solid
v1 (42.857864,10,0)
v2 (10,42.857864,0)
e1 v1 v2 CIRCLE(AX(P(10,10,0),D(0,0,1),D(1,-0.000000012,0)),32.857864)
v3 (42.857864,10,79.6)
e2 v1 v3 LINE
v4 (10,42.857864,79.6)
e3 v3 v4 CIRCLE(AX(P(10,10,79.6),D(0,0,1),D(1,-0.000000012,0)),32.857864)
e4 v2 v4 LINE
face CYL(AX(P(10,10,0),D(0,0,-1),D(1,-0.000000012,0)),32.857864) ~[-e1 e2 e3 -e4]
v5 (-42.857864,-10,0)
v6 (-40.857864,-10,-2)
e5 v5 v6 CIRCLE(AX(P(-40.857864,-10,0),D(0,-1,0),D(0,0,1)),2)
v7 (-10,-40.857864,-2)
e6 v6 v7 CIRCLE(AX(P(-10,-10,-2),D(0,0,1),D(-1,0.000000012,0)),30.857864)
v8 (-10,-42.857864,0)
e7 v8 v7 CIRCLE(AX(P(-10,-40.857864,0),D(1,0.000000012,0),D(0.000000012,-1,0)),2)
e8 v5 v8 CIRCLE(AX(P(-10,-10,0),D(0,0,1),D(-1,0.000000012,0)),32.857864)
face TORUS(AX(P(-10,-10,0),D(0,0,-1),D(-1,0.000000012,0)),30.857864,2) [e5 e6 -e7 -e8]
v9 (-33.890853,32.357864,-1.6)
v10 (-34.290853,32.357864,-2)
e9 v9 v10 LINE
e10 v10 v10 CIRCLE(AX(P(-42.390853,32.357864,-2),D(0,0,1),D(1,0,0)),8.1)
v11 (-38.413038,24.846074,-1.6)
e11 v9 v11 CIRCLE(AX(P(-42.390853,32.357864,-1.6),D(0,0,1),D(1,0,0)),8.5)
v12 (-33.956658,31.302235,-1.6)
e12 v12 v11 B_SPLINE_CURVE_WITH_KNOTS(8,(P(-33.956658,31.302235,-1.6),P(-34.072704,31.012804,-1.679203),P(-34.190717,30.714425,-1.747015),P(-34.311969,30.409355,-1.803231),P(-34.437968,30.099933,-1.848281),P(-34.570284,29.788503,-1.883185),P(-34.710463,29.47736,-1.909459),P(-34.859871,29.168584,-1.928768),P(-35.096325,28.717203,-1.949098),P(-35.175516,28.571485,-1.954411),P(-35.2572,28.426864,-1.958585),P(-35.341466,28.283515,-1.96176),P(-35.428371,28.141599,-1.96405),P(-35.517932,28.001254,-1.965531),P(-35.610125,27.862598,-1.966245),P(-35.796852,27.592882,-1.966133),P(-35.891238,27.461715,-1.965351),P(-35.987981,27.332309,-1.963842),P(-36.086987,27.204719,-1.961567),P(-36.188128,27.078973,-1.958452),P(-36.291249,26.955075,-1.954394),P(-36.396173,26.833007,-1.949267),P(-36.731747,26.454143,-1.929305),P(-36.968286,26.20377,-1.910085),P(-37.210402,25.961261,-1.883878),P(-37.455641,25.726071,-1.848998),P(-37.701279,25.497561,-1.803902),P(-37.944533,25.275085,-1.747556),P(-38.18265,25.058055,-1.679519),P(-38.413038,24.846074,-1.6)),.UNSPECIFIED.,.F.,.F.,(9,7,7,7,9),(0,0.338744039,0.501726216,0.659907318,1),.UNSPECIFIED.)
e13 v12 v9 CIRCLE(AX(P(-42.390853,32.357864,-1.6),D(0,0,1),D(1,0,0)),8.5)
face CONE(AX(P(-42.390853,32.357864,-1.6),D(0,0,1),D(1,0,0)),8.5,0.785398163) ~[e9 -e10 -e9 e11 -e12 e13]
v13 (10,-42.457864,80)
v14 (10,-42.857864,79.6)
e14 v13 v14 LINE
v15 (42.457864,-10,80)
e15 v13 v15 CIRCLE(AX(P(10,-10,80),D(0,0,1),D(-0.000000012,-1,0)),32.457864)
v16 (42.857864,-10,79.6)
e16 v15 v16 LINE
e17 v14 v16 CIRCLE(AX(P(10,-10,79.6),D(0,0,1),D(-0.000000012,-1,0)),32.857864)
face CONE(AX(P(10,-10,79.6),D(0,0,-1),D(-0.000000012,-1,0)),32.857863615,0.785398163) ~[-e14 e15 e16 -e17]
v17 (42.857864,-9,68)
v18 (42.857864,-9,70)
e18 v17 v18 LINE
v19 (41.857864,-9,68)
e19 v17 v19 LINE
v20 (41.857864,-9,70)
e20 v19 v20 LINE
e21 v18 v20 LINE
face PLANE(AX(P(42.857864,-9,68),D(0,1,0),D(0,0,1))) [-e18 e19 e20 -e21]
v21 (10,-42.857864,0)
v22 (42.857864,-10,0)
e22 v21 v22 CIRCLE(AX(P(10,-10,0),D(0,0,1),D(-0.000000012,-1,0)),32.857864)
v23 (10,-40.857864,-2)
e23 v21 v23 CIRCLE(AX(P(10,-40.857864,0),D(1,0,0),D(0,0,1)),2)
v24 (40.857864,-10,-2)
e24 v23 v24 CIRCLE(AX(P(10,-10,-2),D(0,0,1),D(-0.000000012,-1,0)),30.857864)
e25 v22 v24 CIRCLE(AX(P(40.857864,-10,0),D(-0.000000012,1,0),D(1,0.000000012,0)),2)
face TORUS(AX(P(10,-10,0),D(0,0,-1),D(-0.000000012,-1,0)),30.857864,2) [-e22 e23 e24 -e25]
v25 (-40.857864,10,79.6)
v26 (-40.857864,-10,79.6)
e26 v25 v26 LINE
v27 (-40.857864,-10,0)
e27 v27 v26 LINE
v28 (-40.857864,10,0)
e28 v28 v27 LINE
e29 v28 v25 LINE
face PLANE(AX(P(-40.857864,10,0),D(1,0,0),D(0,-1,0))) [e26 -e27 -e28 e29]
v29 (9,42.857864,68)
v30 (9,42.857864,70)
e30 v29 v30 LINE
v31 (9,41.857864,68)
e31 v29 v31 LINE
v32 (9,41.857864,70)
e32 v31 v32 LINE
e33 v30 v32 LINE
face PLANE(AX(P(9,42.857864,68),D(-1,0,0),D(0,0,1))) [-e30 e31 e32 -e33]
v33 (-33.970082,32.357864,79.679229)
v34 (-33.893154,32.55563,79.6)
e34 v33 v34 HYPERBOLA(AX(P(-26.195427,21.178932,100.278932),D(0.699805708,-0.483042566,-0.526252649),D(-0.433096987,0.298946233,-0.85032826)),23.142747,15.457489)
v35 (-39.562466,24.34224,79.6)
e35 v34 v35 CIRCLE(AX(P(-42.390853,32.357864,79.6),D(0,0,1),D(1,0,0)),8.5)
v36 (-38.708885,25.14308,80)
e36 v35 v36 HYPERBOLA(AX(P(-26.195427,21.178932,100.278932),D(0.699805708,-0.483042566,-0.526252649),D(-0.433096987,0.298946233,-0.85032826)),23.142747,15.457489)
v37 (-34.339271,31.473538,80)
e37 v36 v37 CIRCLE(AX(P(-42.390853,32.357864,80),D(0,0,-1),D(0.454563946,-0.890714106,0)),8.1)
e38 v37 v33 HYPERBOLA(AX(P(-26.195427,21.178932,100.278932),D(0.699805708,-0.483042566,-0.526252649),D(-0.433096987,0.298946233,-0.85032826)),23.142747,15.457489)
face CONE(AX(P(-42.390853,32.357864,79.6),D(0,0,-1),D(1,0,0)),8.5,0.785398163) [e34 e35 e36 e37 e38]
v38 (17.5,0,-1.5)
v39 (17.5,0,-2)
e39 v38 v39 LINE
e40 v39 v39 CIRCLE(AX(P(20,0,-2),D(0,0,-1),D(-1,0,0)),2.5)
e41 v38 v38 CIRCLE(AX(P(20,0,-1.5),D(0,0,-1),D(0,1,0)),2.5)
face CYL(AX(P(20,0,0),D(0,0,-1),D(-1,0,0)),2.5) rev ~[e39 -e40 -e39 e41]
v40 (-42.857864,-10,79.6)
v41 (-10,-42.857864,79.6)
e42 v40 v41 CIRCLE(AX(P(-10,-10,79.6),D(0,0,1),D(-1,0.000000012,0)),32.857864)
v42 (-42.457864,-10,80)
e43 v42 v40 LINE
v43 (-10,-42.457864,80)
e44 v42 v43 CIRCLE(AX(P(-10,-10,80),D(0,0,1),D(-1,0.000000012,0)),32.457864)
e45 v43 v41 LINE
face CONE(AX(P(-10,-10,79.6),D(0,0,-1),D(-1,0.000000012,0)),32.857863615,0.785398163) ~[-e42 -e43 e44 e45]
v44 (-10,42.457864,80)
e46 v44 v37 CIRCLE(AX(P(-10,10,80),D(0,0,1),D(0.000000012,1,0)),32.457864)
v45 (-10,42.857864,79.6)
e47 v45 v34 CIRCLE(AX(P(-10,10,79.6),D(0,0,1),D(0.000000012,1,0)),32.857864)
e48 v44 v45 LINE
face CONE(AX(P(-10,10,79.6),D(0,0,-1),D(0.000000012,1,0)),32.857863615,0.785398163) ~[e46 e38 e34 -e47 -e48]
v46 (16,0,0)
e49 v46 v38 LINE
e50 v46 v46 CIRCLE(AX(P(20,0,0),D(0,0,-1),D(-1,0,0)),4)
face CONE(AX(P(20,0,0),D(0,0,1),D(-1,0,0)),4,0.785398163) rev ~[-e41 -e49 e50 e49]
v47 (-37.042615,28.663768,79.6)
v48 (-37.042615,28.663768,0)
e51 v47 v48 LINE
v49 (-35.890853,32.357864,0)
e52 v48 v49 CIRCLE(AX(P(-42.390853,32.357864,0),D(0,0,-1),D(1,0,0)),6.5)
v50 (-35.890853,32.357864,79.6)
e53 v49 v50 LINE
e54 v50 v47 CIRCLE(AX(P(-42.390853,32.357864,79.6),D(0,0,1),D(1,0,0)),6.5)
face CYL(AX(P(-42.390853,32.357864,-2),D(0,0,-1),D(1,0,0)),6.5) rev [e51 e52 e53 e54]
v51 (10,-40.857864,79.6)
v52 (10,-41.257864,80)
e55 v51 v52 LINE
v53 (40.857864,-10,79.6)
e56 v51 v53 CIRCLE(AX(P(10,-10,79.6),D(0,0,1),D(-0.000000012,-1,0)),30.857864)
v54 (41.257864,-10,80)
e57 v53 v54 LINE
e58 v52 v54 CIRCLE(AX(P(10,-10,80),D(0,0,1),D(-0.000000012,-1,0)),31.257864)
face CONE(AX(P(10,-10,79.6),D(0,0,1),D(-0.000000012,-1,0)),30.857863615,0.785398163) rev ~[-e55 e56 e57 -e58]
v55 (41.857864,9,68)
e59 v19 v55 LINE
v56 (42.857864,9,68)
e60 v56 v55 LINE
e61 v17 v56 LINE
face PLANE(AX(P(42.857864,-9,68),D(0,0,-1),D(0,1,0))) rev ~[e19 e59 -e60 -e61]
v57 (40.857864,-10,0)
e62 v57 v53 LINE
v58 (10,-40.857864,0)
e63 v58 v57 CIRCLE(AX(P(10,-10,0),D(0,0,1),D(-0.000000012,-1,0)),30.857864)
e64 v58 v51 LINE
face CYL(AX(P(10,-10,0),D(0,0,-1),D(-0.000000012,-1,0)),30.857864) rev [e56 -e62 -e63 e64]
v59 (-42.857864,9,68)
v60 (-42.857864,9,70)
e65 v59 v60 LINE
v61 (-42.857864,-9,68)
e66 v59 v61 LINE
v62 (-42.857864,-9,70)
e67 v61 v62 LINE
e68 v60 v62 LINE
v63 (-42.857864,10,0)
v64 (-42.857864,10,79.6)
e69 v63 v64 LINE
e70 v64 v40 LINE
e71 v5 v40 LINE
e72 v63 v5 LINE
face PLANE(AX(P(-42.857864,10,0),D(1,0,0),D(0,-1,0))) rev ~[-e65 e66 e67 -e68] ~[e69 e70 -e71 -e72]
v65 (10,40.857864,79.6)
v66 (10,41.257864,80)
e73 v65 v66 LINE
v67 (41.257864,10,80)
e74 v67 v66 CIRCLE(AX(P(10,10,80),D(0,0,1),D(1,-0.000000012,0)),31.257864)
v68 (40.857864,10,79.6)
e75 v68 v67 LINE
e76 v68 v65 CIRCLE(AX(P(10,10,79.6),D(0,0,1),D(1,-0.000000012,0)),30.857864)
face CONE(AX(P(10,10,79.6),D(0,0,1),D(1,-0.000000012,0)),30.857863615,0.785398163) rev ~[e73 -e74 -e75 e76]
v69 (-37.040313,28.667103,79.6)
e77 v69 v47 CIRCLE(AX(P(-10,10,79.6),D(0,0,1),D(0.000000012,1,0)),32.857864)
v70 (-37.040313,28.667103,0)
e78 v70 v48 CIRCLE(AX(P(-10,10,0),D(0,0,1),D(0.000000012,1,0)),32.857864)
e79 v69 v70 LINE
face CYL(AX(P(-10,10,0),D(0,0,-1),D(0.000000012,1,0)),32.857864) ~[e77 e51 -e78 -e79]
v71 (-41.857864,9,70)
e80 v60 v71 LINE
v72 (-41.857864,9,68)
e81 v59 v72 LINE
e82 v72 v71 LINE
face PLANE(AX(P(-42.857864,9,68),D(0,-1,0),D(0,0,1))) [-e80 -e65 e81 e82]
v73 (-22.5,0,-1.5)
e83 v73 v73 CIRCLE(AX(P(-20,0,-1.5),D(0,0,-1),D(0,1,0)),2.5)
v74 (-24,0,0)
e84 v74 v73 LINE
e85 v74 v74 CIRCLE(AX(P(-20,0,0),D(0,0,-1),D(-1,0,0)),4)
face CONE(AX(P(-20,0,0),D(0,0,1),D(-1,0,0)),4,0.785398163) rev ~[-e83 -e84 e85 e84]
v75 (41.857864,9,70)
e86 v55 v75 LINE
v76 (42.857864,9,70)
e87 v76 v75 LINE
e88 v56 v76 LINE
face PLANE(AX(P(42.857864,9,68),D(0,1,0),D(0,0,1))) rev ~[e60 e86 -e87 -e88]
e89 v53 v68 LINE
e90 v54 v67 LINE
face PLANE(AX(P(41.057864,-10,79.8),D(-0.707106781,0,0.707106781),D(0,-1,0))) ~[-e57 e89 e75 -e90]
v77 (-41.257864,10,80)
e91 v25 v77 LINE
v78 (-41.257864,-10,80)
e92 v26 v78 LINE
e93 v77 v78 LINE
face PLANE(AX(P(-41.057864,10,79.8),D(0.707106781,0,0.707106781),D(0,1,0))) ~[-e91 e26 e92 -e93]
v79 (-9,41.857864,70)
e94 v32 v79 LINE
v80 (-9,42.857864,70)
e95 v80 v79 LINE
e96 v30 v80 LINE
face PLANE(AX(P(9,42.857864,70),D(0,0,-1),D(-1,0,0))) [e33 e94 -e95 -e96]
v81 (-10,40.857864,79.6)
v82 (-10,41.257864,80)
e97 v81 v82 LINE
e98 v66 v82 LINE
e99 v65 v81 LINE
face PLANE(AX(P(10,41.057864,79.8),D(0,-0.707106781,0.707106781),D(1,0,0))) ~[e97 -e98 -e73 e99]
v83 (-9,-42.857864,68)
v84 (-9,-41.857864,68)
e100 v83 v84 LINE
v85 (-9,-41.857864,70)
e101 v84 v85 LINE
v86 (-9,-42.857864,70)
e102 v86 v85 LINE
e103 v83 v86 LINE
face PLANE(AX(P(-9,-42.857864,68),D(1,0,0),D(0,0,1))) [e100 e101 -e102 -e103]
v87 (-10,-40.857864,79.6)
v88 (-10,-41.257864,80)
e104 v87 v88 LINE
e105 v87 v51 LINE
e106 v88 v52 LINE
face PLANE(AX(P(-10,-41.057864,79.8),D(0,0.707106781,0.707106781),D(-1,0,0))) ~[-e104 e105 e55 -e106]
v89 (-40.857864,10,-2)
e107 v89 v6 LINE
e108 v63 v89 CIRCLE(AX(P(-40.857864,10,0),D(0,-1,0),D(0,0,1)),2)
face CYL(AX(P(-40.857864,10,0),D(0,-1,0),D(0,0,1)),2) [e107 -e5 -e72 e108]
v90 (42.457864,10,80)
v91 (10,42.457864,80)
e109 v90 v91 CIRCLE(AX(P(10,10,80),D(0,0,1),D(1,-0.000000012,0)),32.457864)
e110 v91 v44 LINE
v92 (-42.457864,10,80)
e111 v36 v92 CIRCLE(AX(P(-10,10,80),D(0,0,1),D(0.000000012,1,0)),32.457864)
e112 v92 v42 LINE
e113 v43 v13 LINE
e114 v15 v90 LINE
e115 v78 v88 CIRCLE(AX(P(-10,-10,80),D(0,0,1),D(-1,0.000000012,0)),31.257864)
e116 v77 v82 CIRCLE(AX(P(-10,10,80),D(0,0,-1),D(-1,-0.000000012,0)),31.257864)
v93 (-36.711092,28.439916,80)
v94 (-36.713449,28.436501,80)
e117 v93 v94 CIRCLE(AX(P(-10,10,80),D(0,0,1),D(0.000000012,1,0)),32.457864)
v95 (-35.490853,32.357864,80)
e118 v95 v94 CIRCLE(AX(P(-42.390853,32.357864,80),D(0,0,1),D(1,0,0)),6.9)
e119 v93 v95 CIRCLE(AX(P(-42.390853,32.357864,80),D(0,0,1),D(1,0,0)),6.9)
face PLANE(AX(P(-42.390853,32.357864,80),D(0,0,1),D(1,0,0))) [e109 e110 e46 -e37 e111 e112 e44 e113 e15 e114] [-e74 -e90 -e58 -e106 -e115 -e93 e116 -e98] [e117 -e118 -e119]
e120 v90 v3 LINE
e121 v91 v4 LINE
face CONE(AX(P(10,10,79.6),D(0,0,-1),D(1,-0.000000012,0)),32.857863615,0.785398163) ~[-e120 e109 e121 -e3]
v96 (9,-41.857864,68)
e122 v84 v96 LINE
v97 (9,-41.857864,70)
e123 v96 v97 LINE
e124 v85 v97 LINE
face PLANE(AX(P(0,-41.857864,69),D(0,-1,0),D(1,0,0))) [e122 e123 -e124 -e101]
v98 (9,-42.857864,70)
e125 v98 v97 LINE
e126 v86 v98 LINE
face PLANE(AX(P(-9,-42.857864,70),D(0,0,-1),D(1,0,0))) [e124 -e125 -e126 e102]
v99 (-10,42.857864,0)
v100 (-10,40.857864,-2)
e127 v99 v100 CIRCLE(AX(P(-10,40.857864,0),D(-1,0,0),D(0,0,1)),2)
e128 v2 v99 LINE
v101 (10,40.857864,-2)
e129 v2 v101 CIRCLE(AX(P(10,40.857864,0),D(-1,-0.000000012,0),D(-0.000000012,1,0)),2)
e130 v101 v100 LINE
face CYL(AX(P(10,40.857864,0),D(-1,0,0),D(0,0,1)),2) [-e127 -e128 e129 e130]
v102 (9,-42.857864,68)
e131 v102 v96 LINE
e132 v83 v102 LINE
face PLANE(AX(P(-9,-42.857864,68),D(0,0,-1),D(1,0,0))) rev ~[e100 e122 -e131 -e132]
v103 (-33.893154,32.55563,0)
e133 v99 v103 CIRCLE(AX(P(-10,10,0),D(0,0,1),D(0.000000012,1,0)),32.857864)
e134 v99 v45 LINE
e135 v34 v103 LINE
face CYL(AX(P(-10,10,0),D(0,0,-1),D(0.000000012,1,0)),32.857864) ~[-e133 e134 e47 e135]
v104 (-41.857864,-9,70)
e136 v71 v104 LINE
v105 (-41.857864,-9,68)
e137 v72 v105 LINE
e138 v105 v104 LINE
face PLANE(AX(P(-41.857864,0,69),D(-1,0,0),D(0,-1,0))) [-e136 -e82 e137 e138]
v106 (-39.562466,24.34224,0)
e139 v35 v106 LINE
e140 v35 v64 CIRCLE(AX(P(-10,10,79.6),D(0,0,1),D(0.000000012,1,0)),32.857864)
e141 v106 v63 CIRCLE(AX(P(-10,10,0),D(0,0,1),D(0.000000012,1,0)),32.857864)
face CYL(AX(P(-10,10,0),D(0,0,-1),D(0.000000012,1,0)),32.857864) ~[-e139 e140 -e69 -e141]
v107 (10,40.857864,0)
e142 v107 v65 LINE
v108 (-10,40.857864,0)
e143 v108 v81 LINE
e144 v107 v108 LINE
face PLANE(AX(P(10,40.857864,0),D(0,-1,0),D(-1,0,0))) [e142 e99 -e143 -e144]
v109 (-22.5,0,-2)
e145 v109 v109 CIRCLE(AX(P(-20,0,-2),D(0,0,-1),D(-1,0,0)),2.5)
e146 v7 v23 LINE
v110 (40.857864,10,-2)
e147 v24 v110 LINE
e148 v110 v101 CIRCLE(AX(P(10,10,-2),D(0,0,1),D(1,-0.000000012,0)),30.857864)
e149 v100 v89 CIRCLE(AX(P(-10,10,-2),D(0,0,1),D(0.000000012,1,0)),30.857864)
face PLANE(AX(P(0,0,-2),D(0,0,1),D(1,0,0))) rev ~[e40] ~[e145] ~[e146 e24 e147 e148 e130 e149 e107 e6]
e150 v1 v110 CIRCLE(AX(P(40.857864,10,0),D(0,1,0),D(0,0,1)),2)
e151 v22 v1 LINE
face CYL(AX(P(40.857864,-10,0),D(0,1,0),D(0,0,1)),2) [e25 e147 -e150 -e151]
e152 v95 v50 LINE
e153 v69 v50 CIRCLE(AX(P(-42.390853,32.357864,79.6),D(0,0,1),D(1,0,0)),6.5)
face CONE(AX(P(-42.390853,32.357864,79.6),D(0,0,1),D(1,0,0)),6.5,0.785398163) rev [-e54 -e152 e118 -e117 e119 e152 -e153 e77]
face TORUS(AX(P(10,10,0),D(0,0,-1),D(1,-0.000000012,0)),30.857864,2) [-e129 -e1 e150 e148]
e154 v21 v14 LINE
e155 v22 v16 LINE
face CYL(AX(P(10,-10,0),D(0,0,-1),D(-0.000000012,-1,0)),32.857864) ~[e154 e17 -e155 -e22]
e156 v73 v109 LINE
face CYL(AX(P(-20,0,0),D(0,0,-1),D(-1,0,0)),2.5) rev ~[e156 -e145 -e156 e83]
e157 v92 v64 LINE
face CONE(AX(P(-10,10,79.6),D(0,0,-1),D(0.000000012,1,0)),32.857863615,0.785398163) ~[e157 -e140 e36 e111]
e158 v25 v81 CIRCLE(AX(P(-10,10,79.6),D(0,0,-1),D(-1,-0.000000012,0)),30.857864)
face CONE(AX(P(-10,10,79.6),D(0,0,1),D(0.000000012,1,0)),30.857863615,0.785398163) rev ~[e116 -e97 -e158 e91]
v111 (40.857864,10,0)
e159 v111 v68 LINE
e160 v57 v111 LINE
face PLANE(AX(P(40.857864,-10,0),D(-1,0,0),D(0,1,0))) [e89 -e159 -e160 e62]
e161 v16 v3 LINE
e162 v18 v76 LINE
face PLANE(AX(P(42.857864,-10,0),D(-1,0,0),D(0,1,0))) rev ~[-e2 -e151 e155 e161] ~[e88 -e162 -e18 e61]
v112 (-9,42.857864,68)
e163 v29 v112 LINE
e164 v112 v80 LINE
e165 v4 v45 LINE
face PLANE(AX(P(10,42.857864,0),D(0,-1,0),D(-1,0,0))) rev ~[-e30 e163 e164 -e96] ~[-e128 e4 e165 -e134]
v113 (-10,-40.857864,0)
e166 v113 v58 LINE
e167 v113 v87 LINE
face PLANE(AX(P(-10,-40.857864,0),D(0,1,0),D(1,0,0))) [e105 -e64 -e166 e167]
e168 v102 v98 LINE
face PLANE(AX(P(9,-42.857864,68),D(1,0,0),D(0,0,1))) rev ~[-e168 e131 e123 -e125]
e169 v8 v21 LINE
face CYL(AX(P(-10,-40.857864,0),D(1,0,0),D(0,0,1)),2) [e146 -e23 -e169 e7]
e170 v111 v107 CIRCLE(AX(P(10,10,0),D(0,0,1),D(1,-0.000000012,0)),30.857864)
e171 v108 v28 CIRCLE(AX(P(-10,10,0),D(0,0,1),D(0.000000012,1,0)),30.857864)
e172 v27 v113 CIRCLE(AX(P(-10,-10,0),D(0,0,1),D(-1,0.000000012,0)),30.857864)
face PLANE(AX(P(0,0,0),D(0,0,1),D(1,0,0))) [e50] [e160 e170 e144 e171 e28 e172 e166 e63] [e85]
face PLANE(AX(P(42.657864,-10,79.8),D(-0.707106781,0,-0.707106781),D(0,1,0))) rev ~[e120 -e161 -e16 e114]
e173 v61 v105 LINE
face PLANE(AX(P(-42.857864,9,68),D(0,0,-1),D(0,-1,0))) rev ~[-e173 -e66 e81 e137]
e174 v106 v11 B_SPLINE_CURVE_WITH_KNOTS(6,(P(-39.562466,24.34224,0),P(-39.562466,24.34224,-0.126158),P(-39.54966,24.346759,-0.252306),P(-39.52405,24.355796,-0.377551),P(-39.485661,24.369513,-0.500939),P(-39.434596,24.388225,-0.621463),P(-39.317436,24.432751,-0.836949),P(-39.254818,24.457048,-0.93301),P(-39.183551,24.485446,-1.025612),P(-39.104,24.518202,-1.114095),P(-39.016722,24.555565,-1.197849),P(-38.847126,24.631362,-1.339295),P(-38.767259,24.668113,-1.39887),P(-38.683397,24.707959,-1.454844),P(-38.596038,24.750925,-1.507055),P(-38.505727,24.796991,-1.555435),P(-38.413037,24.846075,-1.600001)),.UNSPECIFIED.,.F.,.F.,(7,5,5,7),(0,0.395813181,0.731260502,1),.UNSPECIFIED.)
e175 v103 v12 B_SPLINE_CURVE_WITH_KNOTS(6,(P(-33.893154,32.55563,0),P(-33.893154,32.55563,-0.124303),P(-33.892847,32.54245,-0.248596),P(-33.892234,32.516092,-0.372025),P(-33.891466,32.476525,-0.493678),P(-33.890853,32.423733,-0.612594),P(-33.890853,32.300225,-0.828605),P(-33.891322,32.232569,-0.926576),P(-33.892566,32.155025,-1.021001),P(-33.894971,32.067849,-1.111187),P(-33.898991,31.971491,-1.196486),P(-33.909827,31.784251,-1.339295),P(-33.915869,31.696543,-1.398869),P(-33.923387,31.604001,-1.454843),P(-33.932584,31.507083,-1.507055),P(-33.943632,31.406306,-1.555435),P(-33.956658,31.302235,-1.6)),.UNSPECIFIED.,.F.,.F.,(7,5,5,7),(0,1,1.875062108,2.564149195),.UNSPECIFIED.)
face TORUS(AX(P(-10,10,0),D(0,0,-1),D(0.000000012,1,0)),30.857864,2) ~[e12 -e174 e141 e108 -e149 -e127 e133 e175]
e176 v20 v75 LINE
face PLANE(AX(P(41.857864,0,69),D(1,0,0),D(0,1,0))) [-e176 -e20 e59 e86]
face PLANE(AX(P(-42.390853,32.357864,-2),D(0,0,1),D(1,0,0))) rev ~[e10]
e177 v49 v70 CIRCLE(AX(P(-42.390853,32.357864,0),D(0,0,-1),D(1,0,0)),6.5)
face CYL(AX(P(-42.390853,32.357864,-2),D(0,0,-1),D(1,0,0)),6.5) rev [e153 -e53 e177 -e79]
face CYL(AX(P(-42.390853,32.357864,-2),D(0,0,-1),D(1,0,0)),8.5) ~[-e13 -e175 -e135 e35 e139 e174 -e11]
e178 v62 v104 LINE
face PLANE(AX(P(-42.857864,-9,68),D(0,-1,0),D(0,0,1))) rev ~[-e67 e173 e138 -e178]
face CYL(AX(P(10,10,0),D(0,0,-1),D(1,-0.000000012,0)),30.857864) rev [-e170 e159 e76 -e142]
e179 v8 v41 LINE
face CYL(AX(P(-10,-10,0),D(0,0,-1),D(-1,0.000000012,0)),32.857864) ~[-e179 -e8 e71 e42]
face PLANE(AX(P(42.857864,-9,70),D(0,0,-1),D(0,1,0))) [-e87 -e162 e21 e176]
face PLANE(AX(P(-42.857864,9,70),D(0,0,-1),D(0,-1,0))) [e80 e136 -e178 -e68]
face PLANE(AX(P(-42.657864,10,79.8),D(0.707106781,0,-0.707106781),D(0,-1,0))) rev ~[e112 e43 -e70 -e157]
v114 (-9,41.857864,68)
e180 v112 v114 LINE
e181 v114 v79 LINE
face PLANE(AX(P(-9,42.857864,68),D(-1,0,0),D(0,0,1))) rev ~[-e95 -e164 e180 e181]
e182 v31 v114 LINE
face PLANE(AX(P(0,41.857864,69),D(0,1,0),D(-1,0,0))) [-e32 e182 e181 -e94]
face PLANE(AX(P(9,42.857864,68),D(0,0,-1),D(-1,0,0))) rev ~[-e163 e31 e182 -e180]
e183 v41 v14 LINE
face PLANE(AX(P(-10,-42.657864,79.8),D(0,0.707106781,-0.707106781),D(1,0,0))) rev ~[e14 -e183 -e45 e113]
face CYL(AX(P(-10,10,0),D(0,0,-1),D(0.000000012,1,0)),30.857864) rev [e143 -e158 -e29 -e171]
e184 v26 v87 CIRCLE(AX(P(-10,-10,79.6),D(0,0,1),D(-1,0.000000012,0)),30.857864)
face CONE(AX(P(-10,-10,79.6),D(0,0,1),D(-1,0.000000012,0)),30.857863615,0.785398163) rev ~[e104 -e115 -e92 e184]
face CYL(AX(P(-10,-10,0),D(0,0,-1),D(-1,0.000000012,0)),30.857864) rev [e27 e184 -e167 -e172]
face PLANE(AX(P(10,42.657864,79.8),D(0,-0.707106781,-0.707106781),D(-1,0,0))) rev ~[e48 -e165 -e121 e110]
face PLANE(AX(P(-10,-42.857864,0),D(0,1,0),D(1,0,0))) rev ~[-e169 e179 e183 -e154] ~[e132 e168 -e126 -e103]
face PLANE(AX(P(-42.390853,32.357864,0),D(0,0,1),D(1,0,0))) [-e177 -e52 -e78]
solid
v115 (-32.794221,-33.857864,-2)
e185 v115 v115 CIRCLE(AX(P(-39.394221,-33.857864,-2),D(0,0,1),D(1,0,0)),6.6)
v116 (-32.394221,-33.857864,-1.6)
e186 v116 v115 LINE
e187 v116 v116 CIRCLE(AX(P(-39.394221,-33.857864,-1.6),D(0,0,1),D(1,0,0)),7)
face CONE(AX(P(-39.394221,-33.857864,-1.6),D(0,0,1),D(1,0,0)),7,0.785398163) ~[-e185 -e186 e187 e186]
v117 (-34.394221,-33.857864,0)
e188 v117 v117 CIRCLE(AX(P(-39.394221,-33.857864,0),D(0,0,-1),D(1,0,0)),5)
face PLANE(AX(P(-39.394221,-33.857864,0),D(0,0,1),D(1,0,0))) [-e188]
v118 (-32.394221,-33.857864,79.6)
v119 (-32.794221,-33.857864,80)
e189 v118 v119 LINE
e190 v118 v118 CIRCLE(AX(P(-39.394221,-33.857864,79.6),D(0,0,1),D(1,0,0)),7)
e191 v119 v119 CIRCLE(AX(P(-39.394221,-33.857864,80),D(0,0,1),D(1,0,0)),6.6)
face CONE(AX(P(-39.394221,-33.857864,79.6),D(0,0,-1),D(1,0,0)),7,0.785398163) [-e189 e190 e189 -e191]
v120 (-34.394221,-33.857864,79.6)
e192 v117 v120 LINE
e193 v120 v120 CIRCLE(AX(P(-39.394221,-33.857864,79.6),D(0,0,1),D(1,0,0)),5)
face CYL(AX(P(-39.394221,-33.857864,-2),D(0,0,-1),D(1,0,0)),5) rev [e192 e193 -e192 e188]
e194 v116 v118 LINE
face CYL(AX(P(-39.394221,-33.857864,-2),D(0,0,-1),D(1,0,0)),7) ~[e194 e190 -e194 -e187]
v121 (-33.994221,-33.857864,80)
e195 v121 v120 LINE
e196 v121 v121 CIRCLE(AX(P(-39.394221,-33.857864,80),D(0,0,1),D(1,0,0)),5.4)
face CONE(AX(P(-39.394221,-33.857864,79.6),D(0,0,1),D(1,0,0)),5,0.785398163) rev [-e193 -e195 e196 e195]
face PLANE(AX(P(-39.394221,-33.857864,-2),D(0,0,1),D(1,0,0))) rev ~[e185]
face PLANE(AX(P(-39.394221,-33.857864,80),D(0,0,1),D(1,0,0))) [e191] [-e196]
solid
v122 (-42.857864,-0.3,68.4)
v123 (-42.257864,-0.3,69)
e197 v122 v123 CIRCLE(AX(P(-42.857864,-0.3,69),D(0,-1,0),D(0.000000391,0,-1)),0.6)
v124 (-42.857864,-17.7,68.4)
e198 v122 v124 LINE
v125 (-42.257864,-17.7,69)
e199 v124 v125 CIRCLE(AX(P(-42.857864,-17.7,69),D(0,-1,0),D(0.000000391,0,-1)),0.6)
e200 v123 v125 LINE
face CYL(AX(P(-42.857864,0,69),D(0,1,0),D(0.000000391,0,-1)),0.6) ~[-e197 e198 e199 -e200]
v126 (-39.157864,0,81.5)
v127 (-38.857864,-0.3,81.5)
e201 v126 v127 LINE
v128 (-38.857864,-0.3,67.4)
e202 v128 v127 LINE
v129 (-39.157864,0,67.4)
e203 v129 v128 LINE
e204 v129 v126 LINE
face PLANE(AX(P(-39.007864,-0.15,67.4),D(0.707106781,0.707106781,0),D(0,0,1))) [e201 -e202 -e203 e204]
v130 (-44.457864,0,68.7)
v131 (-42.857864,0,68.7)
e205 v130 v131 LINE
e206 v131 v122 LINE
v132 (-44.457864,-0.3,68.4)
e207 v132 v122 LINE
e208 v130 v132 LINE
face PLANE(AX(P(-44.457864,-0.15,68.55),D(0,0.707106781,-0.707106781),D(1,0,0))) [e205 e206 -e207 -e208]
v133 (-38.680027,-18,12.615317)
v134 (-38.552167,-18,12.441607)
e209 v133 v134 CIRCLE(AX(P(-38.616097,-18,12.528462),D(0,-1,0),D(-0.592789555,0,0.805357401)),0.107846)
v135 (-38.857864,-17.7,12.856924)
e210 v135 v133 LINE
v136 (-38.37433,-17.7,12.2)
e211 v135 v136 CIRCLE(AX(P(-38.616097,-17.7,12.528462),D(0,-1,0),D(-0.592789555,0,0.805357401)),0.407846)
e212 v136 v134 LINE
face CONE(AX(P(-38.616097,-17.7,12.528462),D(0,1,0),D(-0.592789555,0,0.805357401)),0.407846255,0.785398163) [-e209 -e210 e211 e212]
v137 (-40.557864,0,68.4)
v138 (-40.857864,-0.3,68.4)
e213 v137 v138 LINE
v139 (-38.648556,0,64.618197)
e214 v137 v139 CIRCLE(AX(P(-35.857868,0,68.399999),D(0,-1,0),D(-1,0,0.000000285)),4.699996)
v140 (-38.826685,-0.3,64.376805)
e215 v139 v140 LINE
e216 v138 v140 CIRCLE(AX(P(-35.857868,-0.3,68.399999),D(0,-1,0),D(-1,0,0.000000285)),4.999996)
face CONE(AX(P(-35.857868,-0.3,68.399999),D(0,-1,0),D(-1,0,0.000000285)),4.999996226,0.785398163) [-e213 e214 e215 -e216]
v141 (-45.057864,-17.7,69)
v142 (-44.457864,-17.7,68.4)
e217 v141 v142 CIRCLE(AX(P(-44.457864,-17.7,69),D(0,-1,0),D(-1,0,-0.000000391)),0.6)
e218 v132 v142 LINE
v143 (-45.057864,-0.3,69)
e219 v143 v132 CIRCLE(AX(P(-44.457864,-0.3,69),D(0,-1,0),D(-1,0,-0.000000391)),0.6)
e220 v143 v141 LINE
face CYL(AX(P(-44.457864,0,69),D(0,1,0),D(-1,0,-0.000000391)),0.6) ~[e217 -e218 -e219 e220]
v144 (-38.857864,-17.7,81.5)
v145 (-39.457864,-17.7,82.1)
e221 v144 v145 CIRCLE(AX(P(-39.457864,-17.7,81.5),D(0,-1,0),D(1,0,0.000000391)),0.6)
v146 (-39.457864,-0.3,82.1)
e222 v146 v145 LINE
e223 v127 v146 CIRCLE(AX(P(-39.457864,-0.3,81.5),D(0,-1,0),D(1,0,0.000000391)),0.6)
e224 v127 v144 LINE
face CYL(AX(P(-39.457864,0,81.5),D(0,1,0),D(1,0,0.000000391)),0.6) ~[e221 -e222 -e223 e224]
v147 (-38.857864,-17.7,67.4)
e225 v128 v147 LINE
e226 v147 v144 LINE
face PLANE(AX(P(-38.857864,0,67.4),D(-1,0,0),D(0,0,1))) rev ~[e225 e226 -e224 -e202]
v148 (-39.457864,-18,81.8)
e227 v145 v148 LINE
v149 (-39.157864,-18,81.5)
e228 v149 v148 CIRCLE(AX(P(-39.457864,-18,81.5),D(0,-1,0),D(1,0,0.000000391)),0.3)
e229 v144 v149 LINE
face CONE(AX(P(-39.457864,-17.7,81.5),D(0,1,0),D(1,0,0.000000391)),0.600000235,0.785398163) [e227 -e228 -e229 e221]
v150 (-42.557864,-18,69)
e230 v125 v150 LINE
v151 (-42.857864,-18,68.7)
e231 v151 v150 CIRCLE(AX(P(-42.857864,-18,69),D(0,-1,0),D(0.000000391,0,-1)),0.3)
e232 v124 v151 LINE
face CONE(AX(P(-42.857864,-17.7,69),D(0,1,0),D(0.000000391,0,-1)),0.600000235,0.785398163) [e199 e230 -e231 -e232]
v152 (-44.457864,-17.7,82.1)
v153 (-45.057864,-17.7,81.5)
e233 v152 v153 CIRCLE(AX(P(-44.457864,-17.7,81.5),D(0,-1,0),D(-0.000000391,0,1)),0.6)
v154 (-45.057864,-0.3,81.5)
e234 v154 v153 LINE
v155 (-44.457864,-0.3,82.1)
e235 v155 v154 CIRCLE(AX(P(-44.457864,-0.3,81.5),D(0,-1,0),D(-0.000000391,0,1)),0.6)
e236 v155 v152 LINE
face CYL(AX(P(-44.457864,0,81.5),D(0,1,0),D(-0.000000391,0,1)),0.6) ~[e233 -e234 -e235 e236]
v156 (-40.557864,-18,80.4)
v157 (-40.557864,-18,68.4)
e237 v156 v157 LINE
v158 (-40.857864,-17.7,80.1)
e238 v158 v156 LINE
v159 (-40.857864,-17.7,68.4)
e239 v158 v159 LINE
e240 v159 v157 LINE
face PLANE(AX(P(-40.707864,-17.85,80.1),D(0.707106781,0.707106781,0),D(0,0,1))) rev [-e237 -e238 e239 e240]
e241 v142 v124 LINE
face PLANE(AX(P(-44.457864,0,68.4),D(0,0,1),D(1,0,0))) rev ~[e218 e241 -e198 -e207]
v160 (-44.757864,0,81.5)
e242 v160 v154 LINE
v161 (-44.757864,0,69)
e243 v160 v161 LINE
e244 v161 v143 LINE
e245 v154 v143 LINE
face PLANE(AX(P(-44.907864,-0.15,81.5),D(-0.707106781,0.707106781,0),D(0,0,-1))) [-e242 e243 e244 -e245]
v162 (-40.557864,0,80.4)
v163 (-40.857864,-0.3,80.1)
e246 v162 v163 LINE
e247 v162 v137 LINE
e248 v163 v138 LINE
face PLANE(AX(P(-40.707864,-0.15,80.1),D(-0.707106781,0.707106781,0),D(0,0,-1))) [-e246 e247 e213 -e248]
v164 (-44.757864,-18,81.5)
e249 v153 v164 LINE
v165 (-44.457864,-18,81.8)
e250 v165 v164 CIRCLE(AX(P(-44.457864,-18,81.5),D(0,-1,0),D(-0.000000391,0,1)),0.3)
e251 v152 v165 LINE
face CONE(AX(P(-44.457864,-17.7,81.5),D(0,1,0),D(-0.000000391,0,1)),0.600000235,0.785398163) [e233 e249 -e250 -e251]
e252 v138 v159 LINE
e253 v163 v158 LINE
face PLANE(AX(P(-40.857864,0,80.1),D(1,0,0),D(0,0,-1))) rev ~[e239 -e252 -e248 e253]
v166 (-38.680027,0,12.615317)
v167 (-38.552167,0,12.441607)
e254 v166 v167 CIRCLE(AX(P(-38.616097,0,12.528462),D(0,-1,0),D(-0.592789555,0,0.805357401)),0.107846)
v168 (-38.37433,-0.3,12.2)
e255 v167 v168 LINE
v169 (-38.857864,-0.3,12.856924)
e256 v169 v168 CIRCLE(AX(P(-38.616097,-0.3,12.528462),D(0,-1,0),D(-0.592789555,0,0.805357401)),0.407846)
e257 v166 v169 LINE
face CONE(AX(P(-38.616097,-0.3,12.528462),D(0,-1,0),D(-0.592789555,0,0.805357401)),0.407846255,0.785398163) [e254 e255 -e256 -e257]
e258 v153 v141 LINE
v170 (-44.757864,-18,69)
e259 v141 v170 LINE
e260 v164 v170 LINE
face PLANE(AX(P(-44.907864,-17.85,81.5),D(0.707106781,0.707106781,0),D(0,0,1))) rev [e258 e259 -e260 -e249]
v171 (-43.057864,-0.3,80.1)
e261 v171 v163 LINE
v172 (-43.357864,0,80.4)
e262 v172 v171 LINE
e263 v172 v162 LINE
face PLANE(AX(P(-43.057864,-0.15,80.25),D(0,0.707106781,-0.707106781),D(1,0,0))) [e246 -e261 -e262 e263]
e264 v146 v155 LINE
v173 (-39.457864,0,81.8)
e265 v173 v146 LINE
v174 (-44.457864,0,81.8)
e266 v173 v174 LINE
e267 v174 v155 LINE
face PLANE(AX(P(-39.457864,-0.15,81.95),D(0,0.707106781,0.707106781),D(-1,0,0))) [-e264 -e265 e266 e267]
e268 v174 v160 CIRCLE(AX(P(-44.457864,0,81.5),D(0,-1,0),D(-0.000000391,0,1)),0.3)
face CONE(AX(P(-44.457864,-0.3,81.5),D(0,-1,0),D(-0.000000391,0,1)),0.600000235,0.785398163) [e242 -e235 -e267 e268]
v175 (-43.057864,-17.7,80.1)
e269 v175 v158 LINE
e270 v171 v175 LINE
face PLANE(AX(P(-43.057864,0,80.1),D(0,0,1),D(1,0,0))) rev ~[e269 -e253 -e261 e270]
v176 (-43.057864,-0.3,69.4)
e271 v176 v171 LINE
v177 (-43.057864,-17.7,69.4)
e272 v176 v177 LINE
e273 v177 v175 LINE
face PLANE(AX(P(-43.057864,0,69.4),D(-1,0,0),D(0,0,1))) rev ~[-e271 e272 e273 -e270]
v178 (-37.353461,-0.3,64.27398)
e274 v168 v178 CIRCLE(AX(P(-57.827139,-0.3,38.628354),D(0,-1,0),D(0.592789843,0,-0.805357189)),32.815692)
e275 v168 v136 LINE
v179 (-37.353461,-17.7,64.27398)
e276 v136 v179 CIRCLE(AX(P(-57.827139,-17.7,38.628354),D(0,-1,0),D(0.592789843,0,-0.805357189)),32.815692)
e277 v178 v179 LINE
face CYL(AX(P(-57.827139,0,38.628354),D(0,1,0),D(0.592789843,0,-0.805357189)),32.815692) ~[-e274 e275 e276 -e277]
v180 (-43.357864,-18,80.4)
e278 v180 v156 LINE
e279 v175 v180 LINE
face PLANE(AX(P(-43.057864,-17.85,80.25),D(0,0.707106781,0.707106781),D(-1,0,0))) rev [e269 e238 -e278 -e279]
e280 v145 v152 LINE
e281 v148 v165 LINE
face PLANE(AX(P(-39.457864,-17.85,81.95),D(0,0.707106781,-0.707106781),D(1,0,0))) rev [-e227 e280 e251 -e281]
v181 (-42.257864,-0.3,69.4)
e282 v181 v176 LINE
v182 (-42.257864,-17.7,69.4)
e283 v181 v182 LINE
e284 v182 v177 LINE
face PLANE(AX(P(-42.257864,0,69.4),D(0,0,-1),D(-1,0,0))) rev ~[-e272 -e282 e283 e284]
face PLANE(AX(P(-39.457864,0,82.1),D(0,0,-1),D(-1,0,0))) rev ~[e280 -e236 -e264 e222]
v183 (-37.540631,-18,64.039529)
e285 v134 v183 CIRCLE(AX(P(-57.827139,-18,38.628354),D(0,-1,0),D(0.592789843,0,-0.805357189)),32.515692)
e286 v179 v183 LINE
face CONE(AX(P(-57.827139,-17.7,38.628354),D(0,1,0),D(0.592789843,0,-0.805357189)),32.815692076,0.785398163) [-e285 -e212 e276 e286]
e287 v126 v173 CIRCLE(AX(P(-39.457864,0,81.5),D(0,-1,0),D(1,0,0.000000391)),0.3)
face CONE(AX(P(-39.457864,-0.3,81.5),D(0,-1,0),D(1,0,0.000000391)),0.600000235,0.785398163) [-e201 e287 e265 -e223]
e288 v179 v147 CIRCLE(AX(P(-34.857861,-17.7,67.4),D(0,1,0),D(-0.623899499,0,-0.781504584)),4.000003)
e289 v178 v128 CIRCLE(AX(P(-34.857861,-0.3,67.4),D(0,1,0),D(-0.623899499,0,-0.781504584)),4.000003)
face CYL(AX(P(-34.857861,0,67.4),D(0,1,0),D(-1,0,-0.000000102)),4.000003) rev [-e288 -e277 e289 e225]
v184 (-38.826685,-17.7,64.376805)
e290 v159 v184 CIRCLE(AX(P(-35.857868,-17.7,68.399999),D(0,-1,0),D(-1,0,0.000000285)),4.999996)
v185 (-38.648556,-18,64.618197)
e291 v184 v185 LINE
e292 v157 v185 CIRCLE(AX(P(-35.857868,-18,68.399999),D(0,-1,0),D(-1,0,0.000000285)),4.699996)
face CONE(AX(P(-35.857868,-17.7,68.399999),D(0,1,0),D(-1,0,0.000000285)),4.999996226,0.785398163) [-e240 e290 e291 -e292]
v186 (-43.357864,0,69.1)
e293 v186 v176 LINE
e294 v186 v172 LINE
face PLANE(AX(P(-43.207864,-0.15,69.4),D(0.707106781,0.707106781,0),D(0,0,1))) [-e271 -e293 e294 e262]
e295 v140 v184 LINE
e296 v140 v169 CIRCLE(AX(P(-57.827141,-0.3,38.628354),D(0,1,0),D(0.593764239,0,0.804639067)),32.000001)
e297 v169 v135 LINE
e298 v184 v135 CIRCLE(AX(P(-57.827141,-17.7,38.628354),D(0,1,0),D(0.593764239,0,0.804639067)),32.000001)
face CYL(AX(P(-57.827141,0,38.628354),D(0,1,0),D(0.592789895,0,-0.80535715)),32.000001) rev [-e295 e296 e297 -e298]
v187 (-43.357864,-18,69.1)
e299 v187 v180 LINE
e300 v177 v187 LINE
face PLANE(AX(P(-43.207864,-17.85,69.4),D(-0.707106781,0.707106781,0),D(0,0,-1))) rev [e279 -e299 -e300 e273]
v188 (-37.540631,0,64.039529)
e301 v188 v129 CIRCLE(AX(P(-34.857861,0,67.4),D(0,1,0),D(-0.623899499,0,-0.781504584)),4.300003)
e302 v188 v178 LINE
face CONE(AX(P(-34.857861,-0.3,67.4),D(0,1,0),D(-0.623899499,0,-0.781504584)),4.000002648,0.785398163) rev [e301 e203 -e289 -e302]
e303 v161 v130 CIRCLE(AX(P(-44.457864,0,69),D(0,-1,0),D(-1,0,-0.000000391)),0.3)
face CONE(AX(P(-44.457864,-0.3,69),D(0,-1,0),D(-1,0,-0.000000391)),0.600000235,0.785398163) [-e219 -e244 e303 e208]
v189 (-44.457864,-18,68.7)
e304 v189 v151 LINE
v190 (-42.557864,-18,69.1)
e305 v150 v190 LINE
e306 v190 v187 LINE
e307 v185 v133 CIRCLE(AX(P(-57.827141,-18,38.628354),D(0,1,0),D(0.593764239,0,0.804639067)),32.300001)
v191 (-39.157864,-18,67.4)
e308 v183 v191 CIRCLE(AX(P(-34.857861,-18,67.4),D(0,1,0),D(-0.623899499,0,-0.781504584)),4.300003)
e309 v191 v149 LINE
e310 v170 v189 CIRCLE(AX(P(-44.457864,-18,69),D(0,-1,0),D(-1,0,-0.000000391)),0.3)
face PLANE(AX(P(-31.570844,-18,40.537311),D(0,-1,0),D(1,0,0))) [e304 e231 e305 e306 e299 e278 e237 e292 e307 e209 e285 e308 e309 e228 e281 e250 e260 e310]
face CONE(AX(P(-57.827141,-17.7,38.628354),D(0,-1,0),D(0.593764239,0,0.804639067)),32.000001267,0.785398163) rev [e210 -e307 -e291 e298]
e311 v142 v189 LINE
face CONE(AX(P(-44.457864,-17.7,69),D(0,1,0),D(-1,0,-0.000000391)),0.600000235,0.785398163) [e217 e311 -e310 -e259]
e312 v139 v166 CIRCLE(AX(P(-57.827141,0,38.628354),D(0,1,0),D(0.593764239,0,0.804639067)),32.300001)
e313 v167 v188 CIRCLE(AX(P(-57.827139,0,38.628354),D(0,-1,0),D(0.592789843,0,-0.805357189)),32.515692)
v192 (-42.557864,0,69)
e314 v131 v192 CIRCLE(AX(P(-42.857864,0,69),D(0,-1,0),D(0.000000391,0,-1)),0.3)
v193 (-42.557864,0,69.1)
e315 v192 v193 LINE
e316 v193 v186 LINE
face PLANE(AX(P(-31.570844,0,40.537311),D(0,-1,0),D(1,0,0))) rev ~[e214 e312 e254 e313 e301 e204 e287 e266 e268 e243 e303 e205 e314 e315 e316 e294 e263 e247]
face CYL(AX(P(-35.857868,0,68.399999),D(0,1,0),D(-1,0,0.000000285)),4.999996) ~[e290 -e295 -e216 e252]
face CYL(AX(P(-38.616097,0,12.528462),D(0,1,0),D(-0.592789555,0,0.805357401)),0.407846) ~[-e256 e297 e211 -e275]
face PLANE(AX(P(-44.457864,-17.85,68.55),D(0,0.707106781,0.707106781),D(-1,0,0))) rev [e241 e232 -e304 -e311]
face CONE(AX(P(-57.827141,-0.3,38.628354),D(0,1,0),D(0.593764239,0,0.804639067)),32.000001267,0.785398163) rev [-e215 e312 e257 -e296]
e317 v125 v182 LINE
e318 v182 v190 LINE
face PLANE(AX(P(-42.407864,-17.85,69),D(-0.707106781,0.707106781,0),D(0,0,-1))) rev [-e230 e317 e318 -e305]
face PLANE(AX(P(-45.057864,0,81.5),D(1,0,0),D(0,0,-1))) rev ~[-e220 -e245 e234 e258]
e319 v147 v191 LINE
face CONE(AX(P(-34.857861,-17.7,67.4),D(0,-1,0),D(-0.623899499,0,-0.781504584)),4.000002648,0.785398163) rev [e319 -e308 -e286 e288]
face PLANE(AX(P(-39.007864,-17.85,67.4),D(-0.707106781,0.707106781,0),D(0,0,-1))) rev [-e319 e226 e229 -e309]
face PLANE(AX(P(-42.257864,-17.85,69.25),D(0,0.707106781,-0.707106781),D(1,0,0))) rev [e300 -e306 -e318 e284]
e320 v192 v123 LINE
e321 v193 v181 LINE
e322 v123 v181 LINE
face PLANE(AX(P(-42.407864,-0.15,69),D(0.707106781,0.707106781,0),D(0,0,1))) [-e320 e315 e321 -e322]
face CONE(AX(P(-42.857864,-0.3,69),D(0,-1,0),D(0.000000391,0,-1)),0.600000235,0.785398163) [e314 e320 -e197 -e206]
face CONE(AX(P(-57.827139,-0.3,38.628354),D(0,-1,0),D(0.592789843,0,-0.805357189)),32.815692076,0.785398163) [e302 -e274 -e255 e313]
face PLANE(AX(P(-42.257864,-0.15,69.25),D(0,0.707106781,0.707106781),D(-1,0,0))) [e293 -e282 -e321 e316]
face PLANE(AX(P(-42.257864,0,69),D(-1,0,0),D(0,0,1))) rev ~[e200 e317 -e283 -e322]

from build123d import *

# Parameters (mm, degrees)
PAD001_DEPTH       = 18
PAD003_DEPTH       = 18
CHAMFER_SIZE       = 0.3
SKETCH006_R        = 8.5
PAD004_DEPTH       = 82
THICKNESS001_T     = -2
CHAMFER002_SIZE    = 0.4
PAD_DEPTH          = 80
THICKNESS_T        = 2
SKETCH001_W        = 18
SKETCH001_H        = 2
POCKET_DEPTH       = 1
POLARPATTERN_COUNT = 4
HOLE_D             = 5
HOLE_DEPTH         = 25
HOLE_CSINK_D       = 8
HOLE_CSINK_ANGLE   = 90
CHAMFER001_SIZE    = 0.4
SKETCH007_R        = 7
PAD005_DEPTH       = 82
THICKNESS002_T     = -2
CHAMFER003_SIZE    = 0.4


with BuildPart() as wing:
    # Sketch002 → Pad001 (new body)
    with BuildSketch(Plane.XZ):
        with BuildLine():
            Line((-45.057864, 81.5), (-45.057864, 69))
            ThreePointArc((-45.057864, 69), (-44.882128, 68.575736), (-44.457864, 68.4))
            Line((-44.457864, 68.4), (-42.857864, 68.4))
            ThreePointArc((-42.857864, 68.4), (-42.4336, 68.575736), (-42.257864, 69))
            Line((-42.257864, 69), (-42.257864, 69.4))
            Line((-42.257864, 69.4), (-43.057864, 69.4))
            Line((-43.057864, 69.4), (-43.057864, 80.1))
            Line((-43.057864, 80.1), (-40.857864, 80.1))
            Line((-40.857864, 80.1), (-40.857864, 68.4))
            Line((-40.857864, 68.4), (-38.857864, 68.4))
            Line((-38.857864, 68.4), (-38.857864, 81.5))
            ThreePointArc((-38.857864, 81.5), (-39.0336, 81.924264), (-39.457864, 82.1))
            Line((-39.457864, 82.1), (-44.457864, 82.1))
            ThreePointArc((-44.457864, 82.1), (-44.882128, 81.924264), (-45.057864, 81.5))
        make_face()
    extrude(amount=PAD001_DEPTH)

    # Sketch003 → Pad003 (join)
    with BuildSketch(Plane(origin=(0, 0, 0.2), x_dir=(1, 0, 0), z_dir=(0, -1, 0))):
        with BuildLine():
            Line((-38.857864, 67.2), (-38.857864, 68.2))
            Line((-38.857864, 68.2), (-40.857864, 68.2))
            ThreePointArc((-40.857864, 68.2), (-40.321277, 65.94657), (-38.826685, 64.176805))
            ThreePointArc((-38.857864, 12.656924), (-25.827146, 38.408988), (-38.826685, 64.176805))
            ThreePointArc((-38.857864, 12.656924), (-38.944559, 12.086695), (-38.37433, 12))
            ThreePointArc((-38.37433, 12), (-25.017751, 37.785152), (-37.353461, 64.07398))
            ThreePointArc((-38.857864, 67.2), (-38.462194, 65.465409), (-37.353461, 64.07398))
        make_face()
    extrude(amount=PAD003_DEPTH)

    # Chamfer
    chamfer_edges = [wing.edges().sort_by_distance(p)[0] for p in [
        (-45.057864, -18, 75.25),
        (-44.882128, -18, 68.575736),
        (-43.657864, -18, 68.4),
        (-42.4336, -18, 68.575736),
        (-42.257864, -18, 69.2),
        (-42.657864, -18, 69.4),
        (-43.057864, -18, 74.75),
        (-41.957864, -18, 80.1),
        (-40.857864, -18, 74.25),
        (-40.321277, -18, 66.14657),
        (-25.827146, -18, 38.608988),
        (-38.944559, -18, 12.286695),
        (-25.017751, -18, 37.985152),
        (-38.462194, -18, 65.665409),
        (-38.857864, -18, 74.45),
        (-39.0336, -18, 81.924264),
        (-41.957864, -18, 82.1),
        (-44.882128, -18, 81.924264),
        (-45.057864, 0, 75.25),
        (-44.882128, 0, 81.924264),
        (-41.957864, 0, 82.1),
        (-39.0336, 0, 81.924264),
        (-38.857864, 0, 74.45),
        (-38.462194, 0, 65.665409),
        (-25.017751, 0, 37.985152),
        (-38.944559, 0, 12.286695),
        (-25.827146, 0, 38.608988),
        (-40.321277, 0, 66.14657),
        (-40.857864, 0, 74.25),
        (-41.957864, 0, 80.1),
        (-43.057864, 0, 74.75),
        (-42.657864, 0, 69.4),
        (-42.257864, 0, 69.2),
        (-42.4336, 0, 68.575736),
        (-43.657864, 0, 68.4),
        (-44.882128, 0, 68.575736),
    ]]
    chamfer(chamfer_edges, length=CHAMFER_SIZE)


with BuildPart() as pen_holder:
    # Sketch006 → Pad004 (new body)
    with BuildSketch(Plane.XY.offset(-2)):
        with Locations((-42.390853, 32.357864)):
            Circle(SKETCH006_R)
    extrude(amount=PAD004_DEPTH)

    # Thickness001
    thickness001_openings = [pen_holder.faces().sort_by_distance(p)[0] for p in [
        (-42.390853, 32.357864, 80),
    ]]
    offset(amount=THICKNESS001_T, openings=thickness001_openings)

    # Chamfer002
    chamfer002_edges = [pen_holder.edges().sort_by_distance(p)[0] for p in [
        (-50.890853, 32.357864, -2),
        (-50.890853, 32.357864, 80),
        (-48.890853, 32.357864, 80),
    ]]
    chamfer(chamfer002_edges, length=CHAMFER002_SIZE)


with BuildPart() as fusion:
    # Sketch → Pad (new body)
    with BuildSketch(Plane.XY):
        with BuildLine():
            Line((-40.857864, 10), (-40.857864, -10))
            ThreePointArc((-40.857864, -10), (-31.819805, -31.819805), (-10, -40.857864))
            Line((-10, -40.857864), (10, -40.857864))
            ThreePointArc((10, -40.857864), (31.819805, -31.819805), (40.857864, -10))
            Line((40.857864, -10), (40.857864, 10))
            ThreePointArc((40.857864, 10), (31.819805, 31.819805), (10, 40.857864))
            Line((10, 40.857864), (-10, 40.857864))
            ThreePointArc((-10, 40.857864), (-31.819805, 31.819805), (-40.857864, 10))
        make_face()
    extrude(amount=PAD_DEPTH)

    # Thickness
    thickness_openings = [fusion.faces().sort_by_distance(p)[0] for p in [
        (0, 0, 80),
    ]]
    offset(amount=THICKNESS_T, openings=thickness_openings)

    # Sketch001 (on Face13 of Thickness) → Pocket (cut)
    with BuildSketch(Plane.XZ.offset(42.857864)):
        with Locations((0, 69)):
            Rectangle(SKETCH001_W, SKETCH001_H)
    pocket = extrude(amount=-POCKET_DEPTH, mode=Mode.SUBTRACT)

    # PolarPattern: Pocket ×4 about axis
    polarpattern_axis = Axis((0, 0, 0), (0, 0, 1))
    for i in range(1, POLARPATTERN_COUNT):
        add(pocket.rotate(polarpattern_axis, i * 360 / POLARPATTERN_COUNT), mode=Mode.SUBTRACT)

    # Hole
    with Locations(Plane.XY):
        with Locations((-20, 0), (20, 0)):
            CounterSinkHole(HOLE_D / 2, HOLE_CSINK_D / 2, depth=HOLE_DEPTH, counter_sink_angle=HOLE_CSINK_ANGLE)

    # Chamfer001
    chamfer001_edges = [fusion.edges().sort_by_distance(p)[0] for p in [
        (-40.857864, 0, 80),
        (-31.819805, 31.819805, 80),
        (0, 40.857864, 80),
        (31.819805, 31.819805, 80),
        (40.857864, 0, 80),
        (31.819805, -31.819805, 80),
        (0, -40.857864, 80),
        (-31.819805, -31.819805, 80),
        (0, 42.857864, 80),
        (-33.234019, 33.234019, 80),
        (-42.857864, 0, 80),
        (-33.234019, -33.234019, 80),
        (0, -42.857864, 80),
        (33.234019, -33.234019, 80),
        (42.857864, 0, 80),
        (33.234019, 33.234019, 80),
    ]]
    chamfer(chamfer001_edges, length=CHAMFER001_SIZE)

    # Fusion: union pen holder
    add(pen_holder.part)


with BuildPart() as clipper_holder:
    # Sketch007 → Pad005 (new body)
    with BuildSketch(Plane.XY.offset(-2)):
        with Locations((-39.394221, -33.857864)):
            Circle(SKETCH007_R)
    extrude(amount=PAD005_DEPTH)

    # Thickness002
    thickness002_openings = [clipper_holder.faces().sort_by_distance(p)[0] for p in [
        (-39.394221, -33.857864, 80),
    ]]
    offset(amount=THICKNESS002_T, openings=thickness002_openings)

    # Chamfer003
    chamfer003_edges = [clipper_holder.edges().sort_by_distance(p)[0] for p in [
        (-46.394221, -33.857864, -2),
        (-46.394221, -33.857864, 80),
        (-44.394221, -33.857864, 80),
    ]]
    chamfer(chamfer003_edges, length=CHAMFER003_SIZE)


solid = Compound([wing.part, fusion.part, clipper_holder.part])
